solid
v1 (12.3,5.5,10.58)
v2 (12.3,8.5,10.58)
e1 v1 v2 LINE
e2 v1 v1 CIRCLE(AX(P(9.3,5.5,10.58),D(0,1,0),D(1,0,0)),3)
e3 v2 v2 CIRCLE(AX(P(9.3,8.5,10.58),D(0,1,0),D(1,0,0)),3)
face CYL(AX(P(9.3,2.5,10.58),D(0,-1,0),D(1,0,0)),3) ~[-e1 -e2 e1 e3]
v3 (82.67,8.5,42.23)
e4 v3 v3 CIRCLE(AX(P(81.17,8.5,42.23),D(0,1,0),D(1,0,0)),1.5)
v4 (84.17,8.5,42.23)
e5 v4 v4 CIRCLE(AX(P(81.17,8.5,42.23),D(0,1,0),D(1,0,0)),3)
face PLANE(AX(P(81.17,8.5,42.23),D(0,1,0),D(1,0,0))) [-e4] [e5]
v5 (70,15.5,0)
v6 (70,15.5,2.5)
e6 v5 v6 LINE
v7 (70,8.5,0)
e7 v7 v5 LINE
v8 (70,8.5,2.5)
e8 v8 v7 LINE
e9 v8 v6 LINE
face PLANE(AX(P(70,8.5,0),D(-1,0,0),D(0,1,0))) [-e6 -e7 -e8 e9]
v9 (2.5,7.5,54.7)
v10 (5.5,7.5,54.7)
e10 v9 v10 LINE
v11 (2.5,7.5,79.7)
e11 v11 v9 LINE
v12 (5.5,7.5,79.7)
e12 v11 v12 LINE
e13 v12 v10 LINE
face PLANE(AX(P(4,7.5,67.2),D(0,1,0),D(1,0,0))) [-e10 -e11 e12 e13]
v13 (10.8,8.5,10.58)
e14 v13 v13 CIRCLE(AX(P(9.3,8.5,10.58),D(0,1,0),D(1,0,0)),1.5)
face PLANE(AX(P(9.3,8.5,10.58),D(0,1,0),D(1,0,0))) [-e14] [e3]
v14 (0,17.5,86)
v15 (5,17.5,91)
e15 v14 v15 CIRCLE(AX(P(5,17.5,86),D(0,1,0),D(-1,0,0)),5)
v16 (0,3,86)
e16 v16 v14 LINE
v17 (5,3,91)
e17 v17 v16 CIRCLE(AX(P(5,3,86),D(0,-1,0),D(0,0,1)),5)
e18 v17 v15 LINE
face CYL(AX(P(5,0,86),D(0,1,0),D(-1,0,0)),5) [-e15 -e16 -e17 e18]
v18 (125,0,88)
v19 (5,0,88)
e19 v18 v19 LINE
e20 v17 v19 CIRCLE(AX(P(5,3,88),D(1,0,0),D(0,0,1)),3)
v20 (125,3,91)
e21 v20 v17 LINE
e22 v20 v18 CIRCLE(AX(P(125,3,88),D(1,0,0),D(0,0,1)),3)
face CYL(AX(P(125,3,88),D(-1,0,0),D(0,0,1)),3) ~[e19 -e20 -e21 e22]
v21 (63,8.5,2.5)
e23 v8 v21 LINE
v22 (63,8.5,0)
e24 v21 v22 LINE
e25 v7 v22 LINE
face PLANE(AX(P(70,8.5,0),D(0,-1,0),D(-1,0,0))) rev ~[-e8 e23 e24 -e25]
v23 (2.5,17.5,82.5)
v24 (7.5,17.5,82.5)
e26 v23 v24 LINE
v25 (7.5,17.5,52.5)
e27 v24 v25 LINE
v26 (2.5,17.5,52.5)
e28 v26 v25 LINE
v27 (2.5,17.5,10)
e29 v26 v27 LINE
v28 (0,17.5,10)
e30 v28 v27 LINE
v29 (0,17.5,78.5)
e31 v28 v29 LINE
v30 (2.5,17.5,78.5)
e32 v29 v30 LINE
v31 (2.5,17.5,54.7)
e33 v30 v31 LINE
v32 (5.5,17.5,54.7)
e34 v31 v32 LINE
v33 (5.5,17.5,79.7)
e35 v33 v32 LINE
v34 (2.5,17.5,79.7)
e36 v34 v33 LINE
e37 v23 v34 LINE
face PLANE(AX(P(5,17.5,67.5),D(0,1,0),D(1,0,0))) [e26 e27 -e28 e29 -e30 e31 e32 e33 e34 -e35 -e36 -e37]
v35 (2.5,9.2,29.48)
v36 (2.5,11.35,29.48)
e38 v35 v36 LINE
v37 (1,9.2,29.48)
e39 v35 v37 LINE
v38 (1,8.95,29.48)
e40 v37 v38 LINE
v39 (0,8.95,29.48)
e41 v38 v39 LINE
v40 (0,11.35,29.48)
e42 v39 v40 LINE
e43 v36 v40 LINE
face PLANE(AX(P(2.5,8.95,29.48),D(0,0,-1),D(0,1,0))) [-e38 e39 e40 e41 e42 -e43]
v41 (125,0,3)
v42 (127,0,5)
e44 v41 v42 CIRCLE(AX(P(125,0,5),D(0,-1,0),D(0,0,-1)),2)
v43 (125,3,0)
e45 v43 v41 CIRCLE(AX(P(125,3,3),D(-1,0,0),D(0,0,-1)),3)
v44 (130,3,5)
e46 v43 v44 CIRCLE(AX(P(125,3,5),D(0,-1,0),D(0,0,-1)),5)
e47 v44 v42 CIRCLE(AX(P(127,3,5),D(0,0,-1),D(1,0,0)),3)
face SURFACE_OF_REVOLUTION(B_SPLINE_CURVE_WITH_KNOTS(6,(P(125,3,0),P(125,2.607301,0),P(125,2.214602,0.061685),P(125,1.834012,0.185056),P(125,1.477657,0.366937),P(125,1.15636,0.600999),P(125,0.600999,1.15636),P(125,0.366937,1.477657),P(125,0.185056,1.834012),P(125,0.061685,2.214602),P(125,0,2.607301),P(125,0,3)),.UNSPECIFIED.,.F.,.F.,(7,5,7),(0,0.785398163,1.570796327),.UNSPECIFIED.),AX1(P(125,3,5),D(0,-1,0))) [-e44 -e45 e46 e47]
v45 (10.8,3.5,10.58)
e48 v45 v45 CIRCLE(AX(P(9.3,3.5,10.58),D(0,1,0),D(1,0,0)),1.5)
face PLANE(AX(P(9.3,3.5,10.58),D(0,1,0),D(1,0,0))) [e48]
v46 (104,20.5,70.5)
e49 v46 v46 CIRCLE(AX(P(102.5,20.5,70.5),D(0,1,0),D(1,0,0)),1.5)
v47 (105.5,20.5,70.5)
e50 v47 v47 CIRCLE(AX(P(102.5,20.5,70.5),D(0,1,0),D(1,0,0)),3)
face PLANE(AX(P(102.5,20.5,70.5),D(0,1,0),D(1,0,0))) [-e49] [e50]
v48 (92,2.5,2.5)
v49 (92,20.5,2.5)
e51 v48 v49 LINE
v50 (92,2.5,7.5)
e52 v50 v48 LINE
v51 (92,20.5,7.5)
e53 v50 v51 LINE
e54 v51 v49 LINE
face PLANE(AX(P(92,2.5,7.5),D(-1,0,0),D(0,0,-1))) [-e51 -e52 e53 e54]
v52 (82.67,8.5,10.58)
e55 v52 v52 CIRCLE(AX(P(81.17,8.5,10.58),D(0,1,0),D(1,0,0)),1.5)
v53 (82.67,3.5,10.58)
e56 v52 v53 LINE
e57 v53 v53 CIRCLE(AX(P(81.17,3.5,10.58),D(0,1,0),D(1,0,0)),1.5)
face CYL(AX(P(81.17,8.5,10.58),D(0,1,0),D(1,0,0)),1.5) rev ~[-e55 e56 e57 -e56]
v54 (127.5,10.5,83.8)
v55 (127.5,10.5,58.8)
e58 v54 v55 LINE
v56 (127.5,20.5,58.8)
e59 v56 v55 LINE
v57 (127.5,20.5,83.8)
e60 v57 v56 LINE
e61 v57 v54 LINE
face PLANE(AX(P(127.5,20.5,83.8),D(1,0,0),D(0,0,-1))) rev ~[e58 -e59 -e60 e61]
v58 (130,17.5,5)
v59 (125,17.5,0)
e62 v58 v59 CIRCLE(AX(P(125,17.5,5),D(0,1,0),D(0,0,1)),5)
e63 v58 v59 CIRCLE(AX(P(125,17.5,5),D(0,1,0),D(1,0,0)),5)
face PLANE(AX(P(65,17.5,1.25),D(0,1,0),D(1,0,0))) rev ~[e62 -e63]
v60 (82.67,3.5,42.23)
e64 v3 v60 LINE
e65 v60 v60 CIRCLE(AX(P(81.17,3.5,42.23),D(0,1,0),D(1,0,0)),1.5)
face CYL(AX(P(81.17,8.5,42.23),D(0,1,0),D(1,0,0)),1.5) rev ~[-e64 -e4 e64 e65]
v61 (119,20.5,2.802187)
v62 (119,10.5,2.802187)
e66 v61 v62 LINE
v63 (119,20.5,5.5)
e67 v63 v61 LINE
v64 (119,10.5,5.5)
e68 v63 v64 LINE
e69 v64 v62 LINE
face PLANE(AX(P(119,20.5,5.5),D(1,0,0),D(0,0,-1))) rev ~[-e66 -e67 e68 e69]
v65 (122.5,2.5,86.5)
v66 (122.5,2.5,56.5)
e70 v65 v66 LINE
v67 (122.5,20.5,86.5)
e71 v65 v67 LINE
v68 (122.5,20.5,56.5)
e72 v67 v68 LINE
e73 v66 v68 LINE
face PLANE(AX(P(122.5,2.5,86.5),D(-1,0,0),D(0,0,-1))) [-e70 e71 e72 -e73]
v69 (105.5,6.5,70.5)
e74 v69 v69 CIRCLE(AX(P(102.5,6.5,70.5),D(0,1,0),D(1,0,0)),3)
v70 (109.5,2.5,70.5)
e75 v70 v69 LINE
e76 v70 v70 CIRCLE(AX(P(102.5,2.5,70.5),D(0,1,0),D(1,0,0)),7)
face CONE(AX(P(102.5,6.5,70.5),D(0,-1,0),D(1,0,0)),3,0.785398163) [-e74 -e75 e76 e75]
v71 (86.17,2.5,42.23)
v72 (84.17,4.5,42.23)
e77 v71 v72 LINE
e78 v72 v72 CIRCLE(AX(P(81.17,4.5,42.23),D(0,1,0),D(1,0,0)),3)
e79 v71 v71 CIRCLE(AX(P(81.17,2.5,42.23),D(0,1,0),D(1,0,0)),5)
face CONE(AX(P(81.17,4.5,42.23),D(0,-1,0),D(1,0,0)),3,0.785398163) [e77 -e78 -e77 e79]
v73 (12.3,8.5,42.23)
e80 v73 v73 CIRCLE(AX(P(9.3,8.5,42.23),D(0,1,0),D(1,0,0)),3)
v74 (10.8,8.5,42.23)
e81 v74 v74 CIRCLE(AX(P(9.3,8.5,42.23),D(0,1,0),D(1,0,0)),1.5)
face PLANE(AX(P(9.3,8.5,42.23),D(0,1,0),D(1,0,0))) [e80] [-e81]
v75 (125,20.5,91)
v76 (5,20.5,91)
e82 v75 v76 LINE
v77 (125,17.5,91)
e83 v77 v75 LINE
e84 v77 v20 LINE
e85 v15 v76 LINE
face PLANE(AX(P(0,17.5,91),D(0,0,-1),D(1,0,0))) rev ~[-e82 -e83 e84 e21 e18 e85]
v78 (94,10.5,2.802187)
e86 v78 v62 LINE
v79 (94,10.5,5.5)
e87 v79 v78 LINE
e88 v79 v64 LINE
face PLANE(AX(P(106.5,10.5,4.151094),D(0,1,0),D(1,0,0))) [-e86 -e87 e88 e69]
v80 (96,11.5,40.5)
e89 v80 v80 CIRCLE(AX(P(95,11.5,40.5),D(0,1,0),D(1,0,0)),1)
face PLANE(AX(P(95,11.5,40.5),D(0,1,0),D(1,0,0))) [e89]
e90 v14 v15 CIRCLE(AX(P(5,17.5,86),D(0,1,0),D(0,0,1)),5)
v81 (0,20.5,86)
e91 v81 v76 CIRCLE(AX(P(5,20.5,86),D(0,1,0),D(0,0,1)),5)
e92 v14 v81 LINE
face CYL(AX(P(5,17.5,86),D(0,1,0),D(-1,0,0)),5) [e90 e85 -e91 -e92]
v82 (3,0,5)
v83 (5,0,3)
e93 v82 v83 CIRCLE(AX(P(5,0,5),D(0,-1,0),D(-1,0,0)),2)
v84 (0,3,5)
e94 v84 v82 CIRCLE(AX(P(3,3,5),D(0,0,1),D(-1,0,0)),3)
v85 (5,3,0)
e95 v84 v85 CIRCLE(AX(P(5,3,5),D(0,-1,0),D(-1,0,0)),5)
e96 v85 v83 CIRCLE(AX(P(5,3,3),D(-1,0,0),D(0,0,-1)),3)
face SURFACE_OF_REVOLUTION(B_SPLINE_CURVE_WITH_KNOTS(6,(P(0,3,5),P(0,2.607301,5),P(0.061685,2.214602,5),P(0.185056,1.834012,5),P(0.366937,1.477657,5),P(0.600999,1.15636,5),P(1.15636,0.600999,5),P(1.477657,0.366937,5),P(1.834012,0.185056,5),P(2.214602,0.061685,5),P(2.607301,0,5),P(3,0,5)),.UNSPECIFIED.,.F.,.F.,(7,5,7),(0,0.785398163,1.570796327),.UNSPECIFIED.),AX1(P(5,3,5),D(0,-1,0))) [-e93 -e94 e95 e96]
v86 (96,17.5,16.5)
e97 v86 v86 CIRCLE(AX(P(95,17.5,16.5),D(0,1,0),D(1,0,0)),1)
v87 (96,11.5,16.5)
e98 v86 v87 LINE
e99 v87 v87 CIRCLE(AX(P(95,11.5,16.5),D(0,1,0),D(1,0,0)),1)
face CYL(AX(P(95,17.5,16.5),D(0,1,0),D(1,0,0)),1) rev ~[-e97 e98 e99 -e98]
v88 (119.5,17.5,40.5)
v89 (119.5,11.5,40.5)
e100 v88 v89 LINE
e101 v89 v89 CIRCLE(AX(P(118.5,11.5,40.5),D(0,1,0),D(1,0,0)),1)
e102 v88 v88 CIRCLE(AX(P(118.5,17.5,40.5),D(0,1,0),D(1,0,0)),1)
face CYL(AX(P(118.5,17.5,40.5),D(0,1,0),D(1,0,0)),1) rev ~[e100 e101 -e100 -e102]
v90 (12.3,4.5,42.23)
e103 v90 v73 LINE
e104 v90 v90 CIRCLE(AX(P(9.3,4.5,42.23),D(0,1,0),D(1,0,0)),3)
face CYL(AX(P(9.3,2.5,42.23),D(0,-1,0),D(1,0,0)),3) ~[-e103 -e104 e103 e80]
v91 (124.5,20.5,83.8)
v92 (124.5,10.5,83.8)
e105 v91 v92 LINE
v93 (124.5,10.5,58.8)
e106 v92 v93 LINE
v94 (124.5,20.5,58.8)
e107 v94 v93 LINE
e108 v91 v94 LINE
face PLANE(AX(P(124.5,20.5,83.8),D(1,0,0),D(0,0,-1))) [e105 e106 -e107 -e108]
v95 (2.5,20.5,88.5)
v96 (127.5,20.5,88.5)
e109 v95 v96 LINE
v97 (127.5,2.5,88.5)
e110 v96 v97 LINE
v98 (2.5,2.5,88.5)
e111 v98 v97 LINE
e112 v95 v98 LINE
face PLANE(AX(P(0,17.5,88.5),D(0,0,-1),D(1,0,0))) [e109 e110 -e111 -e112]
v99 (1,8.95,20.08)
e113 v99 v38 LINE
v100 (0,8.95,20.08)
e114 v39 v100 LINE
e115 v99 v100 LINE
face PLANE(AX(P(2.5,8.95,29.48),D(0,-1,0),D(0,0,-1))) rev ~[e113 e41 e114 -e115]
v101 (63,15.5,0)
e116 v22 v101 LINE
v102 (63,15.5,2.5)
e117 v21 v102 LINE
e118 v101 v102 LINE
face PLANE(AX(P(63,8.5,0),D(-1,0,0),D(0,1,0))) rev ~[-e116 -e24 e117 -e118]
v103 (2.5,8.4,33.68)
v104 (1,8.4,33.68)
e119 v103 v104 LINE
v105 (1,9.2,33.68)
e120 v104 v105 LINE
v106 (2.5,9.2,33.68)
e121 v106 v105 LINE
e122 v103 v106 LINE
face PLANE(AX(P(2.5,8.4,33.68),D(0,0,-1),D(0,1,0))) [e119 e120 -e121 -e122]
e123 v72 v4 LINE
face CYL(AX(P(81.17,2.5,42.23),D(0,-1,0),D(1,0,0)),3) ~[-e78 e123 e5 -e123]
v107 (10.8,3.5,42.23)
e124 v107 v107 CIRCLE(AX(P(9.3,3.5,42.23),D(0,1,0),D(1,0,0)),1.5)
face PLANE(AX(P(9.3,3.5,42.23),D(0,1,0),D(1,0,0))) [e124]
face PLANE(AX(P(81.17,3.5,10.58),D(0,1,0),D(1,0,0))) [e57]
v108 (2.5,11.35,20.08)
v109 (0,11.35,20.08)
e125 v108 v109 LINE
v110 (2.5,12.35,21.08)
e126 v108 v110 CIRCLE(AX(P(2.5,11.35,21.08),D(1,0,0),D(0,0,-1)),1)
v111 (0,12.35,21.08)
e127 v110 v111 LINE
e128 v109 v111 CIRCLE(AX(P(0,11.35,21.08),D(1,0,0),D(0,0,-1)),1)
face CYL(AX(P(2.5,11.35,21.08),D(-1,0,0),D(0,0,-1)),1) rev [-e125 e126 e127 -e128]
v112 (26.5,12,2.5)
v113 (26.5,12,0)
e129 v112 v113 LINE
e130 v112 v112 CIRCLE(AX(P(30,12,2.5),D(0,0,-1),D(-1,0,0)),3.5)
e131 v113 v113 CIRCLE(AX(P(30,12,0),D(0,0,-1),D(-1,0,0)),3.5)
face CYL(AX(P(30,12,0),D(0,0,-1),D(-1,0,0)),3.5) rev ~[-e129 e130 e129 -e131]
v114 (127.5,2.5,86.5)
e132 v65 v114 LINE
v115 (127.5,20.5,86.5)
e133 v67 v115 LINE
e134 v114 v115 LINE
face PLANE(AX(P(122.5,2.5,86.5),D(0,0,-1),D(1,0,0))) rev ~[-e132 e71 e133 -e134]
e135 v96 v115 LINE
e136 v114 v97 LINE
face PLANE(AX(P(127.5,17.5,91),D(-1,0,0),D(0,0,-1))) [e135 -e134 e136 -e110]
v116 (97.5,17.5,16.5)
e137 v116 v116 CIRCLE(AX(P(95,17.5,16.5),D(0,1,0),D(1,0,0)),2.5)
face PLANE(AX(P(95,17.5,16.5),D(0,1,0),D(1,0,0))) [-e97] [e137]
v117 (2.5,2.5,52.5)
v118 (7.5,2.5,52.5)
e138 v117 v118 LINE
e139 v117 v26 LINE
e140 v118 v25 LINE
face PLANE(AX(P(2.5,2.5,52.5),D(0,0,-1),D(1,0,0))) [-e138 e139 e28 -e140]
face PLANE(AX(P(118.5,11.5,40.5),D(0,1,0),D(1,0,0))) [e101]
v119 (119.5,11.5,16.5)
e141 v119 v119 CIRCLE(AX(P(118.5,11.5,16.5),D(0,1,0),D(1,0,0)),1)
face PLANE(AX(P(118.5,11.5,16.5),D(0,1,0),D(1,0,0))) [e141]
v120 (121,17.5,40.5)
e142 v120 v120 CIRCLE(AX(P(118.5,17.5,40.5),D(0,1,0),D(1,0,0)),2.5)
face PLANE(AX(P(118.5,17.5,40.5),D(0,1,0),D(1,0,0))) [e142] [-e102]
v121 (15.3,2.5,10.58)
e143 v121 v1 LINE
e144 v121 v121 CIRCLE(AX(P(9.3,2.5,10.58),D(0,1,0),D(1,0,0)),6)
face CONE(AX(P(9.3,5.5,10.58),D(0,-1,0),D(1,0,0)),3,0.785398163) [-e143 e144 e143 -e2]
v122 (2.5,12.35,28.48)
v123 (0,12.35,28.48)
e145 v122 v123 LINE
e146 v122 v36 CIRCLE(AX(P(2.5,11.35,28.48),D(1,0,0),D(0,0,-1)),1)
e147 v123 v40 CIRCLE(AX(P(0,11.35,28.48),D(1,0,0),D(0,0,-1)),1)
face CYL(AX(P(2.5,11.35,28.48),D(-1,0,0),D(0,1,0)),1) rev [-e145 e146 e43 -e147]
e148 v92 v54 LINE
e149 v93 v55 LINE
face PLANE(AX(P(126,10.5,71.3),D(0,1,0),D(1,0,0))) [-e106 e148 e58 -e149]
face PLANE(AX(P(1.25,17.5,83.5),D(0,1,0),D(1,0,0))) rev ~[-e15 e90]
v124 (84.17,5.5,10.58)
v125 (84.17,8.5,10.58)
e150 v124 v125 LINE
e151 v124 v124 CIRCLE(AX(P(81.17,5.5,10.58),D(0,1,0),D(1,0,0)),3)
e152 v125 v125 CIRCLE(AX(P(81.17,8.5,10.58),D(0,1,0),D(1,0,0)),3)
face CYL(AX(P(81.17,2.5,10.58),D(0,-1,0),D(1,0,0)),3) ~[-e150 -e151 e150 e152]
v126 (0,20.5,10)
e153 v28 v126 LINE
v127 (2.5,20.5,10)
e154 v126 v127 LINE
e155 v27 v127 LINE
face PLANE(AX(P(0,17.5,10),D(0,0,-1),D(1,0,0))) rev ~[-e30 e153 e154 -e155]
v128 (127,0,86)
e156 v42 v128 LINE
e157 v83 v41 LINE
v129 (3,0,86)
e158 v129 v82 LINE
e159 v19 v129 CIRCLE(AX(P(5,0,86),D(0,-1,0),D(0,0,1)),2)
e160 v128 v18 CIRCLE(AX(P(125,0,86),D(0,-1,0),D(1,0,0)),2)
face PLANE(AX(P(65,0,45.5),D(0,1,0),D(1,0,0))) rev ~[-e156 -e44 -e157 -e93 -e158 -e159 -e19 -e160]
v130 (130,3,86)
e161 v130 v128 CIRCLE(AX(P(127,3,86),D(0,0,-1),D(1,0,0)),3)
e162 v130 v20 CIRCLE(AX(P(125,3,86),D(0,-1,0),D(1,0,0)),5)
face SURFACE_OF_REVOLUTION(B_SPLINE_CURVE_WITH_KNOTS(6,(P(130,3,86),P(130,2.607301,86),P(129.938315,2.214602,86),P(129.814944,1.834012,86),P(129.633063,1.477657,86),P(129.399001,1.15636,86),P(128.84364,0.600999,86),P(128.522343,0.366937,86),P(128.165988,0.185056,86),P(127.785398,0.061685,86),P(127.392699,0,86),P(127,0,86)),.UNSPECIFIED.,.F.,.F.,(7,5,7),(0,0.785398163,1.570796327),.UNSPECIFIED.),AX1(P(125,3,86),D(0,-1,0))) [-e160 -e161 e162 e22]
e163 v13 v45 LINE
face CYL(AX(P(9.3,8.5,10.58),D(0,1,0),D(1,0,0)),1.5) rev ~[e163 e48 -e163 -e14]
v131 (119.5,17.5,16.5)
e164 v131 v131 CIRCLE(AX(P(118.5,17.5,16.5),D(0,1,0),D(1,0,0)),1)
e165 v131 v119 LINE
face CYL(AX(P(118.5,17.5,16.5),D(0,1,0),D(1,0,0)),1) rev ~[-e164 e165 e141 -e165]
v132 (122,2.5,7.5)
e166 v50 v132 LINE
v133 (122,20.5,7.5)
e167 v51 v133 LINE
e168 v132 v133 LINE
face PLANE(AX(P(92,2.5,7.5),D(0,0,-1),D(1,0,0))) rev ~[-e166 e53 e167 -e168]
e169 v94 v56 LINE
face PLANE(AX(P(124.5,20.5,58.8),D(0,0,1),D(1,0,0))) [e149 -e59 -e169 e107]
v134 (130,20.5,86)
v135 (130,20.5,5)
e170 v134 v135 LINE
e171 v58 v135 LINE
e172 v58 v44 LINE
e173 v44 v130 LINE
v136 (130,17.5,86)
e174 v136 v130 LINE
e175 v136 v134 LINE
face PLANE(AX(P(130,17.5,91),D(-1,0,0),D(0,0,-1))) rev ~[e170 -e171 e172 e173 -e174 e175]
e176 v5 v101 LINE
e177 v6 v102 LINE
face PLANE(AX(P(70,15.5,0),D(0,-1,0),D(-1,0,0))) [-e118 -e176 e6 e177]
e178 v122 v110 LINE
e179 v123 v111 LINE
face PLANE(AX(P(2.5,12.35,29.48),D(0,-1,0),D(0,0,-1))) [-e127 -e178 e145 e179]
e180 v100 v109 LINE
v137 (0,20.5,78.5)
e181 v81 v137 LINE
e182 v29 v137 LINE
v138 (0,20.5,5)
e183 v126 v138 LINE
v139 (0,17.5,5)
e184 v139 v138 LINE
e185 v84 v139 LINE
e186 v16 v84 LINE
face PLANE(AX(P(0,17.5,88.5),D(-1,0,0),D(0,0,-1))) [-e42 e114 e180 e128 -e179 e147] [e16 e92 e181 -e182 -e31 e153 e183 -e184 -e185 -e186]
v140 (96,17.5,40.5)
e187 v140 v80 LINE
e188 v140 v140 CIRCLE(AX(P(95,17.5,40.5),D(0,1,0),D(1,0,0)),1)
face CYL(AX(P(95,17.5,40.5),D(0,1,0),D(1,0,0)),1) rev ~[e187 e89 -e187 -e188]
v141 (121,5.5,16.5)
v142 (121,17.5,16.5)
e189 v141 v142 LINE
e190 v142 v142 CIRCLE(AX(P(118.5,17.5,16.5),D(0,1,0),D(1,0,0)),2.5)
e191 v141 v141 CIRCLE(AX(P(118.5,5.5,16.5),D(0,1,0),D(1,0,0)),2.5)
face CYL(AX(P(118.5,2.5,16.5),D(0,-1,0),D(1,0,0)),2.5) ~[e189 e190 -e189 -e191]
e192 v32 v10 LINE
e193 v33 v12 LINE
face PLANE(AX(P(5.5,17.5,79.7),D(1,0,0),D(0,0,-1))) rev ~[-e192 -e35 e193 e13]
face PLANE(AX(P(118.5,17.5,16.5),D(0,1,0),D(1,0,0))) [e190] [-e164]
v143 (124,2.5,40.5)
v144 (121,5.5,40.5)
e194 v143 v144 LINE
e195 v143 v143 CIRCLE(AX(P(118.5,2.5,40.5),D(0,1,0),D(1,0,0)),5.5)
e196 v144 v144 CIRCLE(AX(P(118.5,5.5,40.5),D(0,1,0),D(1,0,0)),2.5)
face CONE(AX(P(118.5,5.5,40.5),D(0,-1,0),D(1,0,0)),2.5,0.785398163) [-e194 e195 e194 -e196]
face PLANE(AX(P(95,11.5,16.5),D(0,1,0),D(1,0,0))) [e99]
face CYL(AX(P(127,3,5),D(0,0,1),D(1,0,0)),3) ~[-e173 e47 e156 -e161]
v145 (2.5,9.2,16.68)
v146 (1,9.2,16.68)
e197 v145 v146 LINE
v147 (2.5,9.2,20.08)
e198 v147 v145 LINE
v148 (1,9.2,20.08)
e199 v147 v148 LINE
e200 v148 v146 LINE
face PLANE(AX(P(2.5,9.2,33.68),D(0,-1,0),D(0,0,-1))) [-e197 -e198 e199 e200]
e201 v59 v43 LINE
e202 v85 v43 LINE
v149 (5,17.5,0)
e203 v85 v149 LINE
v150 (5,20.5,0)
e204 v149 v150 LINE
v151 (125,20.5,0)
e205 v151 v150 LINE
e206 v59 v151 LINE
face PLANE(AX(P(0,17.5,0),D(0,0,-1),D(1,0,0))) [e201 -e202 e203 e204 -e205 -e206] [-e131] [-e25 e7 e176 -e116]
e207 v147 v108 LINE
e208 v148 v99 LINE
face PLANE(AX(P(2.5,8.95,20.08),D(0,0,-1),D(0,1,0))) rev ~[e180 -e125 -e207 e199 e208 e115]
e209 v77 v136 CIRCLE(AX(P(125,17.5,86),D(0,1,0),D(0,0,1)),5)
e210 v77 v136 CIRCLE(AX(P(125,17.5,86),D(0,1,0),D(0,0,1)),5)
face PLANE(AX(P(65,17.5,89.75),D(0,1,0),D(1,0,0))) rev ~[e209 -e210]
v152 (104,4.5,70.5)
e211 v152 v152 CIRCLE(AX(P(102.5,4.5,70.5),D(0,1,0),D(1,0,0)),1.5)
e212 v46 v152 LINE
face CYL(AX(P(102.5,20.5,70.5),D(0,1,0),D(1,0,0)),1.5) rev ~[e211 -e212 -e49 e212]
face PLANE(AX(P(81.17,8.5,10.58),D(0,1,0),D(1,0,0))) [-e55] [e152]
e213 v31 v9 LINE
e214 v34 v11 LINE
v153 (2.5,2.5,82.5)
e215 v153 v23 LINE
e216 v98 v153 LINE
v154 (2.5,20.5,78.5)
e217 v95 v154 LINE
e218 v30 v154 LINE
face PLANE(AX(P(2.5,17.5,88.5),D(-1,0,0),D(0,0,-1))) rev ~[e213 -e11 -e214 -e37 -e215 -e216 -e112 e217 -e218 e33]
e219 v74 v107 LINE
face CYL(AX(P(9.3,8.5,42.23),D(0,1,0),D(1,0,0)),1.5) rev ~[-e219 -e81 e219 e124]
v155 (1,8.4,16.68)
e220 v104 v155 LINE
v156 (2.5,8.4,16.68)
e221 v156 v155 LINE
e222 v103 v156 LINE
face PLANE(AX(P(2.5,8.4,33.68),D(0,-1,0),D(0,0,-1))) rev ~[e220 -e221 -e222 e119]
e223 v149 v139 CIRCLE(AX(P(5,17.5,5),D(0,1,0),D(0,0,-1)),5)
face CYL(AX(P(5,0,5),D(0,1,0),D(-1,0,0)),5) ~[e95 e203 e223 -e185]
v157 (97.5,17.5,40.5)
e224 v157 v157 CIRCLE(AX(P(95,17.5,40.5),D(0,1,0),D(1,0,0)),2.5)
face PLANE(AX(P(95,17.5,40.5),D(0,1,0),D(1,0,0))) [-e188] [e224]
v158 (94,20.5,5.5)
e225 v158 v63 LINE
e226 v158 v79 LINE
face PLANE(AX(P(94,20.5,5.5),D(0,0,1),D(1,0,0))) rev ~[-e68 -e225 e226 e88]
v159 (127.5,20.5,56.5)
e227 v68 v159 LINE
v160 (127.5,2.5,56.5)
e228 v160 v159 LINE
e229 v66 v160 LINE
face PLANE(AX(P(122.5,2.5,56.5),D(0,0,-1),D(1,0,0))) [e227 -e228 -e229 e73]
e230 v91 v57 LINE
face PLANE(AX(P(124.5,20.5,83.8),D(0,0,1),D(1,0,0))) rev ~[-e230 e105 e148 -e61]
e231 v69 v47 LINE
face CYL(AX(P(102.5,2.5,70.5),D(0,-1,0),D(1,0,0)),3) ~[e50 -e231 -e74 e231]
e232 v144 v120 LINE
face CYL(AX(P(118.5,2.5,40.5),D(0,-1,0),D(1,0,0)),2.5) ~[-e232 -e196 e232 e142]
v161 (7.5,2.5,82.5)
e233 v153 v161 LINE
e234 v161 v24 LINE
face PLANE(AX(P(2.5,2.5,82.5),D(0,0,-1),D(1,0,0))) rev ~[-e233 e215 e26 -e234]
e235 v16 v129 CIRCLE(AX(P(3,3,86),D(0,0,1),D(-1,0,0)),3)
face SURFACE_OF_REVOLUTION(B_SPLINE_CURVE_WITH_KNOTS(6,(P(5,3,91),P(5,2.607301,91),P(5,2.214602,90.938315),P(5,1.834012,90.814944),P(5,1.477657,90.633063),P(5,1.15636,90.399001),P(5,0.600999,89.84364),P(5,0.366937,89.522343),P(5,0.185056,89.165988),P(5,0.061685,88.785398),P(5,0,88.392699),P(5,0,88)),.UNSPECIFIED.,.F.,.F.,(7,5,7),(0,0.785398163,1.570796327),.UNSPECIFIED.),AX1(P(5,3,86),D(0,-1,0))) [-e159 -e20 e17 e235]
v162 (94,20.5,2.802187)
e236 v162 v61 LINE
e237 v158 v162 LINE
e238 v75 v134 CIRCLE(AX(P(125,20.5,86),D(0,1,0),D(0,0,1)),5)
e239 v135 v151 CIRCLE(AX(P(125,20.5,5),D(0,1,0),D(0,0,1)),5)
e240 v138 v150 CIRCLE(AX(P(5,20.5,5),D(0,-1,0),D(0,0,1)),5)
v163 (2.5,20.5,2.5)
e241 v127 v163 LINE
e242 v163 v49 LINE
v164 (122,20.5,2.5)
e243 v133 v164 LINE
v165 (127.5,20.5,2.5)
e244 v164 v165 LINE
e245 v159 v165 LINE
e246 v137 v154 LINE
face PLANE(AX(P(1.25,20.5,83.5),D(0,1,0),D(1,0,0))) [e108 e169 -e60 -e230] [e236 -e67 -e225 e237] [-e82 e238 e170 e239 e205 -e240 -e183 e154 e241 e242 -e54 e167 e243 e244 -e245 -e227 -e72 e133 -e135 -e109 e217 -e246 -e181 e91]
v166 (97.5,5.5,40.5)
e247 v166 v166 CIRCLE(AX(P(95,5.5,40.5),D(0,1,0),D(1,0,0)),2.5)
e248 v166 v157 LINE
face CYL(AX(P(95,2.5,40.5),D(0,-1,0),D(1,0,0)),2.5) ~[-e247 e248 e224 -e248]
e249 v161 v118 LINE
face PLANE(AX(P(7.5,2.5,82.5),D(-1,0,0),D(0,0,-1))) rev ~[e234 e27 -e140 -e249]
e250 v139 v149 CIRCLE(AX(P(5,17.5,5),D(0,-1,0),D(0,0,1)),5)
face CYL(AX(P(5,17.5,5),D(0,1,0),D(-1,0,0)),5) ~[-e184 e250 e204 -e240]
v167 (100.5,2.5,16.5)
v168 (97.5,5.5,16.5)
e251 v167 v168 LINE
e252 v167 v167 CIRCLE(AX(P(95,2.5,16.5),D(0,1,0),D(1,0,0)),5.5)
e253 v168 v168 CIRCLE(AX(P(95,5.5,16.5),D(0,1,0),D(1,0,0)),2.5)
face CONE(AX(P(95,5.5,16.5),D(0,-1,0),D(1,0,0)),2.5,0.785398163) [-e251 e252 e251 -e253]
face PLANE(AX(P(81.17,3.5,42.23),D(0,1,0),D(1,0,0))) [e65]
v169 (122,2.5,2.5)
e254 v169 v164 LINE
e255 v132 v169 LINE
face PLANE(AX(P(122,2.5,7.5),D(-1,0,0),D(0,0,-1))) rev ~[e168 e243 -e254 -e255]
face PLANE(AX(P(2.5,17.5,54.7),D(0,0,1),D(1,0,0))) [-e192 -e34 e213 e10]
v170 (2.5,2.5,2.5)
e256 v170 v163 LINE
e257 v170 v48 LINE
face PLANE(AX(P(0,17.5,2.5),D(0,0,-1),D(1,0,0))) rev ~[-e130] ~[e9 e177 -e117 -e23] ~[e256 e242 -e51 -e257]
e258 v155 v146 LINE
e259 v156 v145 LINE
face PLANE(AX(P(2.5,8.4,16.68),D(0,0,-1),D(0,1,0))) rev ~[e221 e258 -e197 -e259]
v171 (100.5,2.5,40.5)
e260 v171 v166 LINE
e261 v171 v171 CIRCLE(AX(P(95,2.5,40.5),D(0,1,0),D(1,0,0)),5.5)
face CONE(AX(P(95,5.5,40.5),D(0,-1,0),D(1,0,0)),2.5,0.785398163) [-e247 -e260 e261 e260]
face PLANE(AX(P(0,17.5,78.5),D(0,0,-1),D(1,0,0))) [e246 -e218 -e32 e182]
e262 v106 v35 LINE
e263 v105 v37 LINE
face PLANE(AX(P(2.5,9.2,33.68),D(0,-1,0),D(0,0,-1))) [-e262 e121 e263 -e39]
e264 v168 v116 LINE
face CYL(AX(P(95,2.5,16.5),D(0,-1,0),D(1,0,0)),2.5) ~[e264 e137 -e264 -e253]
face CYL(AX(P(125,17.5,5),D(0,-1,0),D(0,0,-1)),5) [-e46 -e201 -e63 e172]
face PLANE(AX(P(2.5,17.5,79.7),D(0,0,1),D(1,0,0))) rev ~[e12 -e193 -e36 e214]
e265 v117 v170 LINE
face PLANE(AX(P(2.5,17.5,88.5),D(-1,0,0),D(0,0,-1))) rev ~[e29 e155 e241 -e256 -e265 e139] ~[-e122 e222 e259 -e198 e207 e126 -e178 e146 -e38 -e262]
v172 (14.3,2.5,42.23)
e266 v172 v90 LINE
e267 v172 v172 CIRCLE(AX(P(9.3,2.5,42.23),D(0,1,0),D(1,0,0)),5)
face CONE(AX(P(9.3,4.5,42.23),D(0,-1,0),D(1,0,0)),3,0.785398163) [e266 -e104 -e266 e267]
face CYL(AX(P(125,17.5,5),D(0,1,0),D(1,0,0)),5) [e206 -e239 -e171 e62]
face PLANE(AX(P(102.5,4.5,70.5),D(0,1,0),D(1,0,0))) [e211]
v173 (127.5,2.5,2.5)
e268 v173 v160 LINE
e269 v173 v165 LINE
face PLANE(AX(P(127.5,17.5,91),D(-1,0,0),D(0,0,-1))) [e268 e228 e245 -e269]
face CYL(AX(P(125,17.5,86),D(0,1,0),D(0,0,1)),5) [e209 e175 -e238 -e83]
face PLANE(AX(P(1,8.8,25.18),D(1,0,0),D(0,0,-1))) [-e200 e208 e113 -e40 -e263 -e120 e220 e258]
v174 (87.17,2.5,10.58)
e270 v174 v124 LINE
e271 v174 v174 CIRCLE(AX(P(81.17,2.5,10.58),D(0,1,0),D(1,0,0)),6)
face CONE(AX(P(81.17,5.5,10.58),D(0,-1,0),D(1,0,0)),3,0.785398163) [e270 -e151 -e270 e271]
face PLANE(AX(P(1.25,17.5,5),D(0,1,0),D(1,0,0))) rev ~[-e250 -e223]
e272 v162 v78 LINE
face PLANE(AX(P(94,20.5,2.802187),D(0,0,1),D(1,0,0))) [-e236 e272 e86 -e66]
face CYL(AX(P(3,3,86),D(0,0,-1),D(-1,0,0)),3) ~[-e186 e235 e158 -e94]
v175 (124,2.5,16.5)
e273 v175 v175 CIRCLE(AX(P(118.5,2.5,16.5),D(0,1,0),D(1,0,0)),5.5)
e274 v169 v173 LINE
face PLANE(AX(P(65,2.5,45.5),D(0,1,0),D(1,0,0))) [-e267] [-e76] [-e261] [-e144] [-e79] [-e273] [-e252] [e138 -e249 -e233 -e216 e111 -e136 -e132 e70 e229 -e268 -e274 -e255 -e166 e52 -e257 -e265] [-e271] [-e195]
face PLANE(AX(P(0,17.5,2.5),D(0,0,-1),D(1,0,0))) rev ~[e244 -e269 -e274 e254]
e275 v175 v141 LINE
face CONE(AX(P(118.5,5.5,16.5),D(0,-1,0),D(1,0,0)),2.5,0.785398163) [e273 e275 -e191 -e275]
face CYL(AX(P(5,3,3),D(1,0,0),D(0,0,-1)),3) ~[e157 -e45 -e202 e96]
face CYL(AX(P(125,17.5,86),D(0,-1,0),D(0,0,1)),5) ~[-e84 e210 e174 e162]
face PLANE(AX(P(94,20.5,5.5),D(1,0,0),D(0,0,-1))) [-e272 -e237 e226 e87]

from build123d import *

# Parameters (mm, degrees)
SKETCH2_W            = 130
SKETCH2_H            = 91
BOSS_EXTRUDE1_DEPTH  = 2.5
SKETCH3_W            = 125
SKETCH3_H            = 2.5
BOSS_EXTRUDE2_DEPTH  = 15
SKETCH14_W           = 9.4
SKETCH14_H           = 3.4
CUT_EXTRUDE1_DEPTH   = 10
FILLET3_R            = 1
FILLET4_R            = 1
SKETCH17_W           = 17
SKETCH17_H           = 0.8
CUT_EXTRUDE3_DEPTH   = 1.5
SKETCH19_R           = 3
BOSS_EXTRUDE3_DEPTH  = 6
SKETCH20_R           = 1.5
CUT_EXTRUDE4_DEPTH   = 5
SKETCH21_R           = 3
BOSS_EXTRUDE4_DEPTH  = 6
SKETCH22_R           = 1.5
CUT_EXTRUDE5_DEPTH   = 5
SKETCH23_R           = 3
BOSS_EXTRUDE5_DEPTH  = 6
SKETCH24_R           = 1.5
CUT_EXTRUDE6_DEPTH   = 5
SKETCH25_R           = 3
BOSS_EXTRUDE6_DEPTH  = 6
SKETCH26_R           = 1.5
CUT_EXTRUDE7_DEPTH   = 5
FILLET5_R            = 5
SKETCH28_R           = 2.5
BOSS_EXTRUDE7_DEPTH  = 15
SKETCH29_R           = 2.5
BOSS_EXTRUDE8_DEPTH  = 15
SKETCH30_R           = 1
CUT_EXTRUDE8_DEPTH   = 6
SKETCH31_R           = 1
CUT_EXTRUDE9_DEPTH   = 6
SKETCH33_R           = 2.5
BOSS_EXTRUDE9_DEPTH  = 15
SKETCH34_R           = 2.5
BOSS_EXTRUDE10_DEPTH = 15
SKETCH35_R           = 1
CUT_EXTRUDE10_DEPTH  = 6
SKETCH36_R           = 1
CUT_EXTRUDE11_DEPTH  = 6
SKETCH39_W           = 130
SKETCH39_H           = 2.5
BOSS_EXTRUDE11_DEPTH = 3
SKETCH40_W           = 2.5
SKETCH40_H           = 91
BOSS_EXTRUDE12_DEPTH = 3
FILLET10_R           = 5
SKETCH41_W           = 130
SKETCH41_H           = 2.5
BOSS_EXTRUDE13_DEPTH = 3
FILLET11_R           = 5
SKETCH43_W           = 2.5
SKETCH43_H           = 10
BOSS_EXTRUDE14_DEPTH = 3
FILLET12_R           = 5
SKETCH45_W           = 2.5
SKETCH45_H           = 10
BOSS_EXTRUDE15_DEPTH = 3
FILLET13_R           = 5
SKETCH46_W           = 30
SKETCH46_H           = 5
BOSS_EXTRUDE16_DEPTH = 18
SKETCH47_W           = 5
SKETCH47_H           = 30
BOSS_EXTRUDE17_DEPTH = 18
SKETCH48_W           = 5
SKETCH48_H           = 30
BOSS_EXTRUDE18_DEPTH = 15
SKETCH49_W           = 25
SKETCH49_H           = 2.697812924
CUT_EXTRUDE12_DEPTH  = 10
SKETCH50_W           = 3
SKETCH50_H           = 25
CUT_EXTRUDE13_DEPTH  = 10
SKETCH51_W           = 3
SKETCH51_H           = 25
CUT_EXTRUDE14_DEPTH  = 10
SKETCH52_R           = 3
BOSS_EXTRUDE19_DEPTH = 18
SKETCH53_R           = 1.5
CUT_EXTRUDE15_DEPTH  = 16
FILLET14_R           = 3
CHAMFER2_SIZE        = 3
CHAMFER3_SIZE        = 2
CHAMFER4_SIZE        = 3
CHAMFER5_SIZE        = 3
CHAMFER6_SIZE        = 4
CHAMFER7_SIZE        = 2
SKETCH54_W           = 7
SKETCH54_H           = 7
CUT_EXTRUDE16_DEPTH  = 5
SKETCH55_R           = 3.5
CUT_EXTRUDE17_DEPTH  = 5


with BuildPart() as part:
    # Sketch2 → Boss-Extrude1 (new body)
    with BuildSketch(Plane(origin=(0, 0, 0), x_dir=(1, 0, 0), z_dir=(0, 1, 0))):
        with Locations((65, -45.5)):
            Rectangle(SKETCH2_W, SKETCH2_H)
    extrude(amount=BOSS_EXTRUDE1_DEPTH)

    # Sketch3 → Boss-Extrude2 (add)
    with BuildSketch(Plane(origin=(0, 2.5, 0), x_dir=(1, 0, 0), z_dir=(0, 1, 0))):
        Polygon((130, 0), (127.5, 0), (127.5, -2.5), (127.5, -88.5), (127.5, -91), (130, -91), align=None)
        with Locations((65, -1.25)):
            Rectangle(SKETCH3_W, SKETCH3_H)
        with Locations((65, -89.75)):
            Rectangle(SKETCH3_W, SKETCH3_H)
        Polygon((2.5, 0), (0, 0), (0, -91), (2.5, -91), (2.5, -88.5), (2.5, -2.5), align=None)
    extrude(amount=BOSS_EXTRUDE2_DEPTH)

    # Sketch14 → Cut-Extrude1 (cut)
    with BuildSketch(Plane(origin=(2.5, 0, 0), x_dir=(0, 0, -1), z_dir=(1, 0, 0))):
        with Locations((-24.78, 10.65)):
            Rectangle(SKETCH14_W, SKETCH14_H)
    extrude(amount=-CUT_EXTRUDE1_DEPTH, mode=Mode.SUBTRACT)

    # Fillet3
    fillet3_edges = [part.edges().sort_by_distance(p)[0] for p in [
        (1.25, 12.35, 20.08),
    ]]
    fillet(fillet3_edges, radius=FILLET3_R)

    # Fillet4
    fillet4_edges = [part.edges().sort_by_distance(p)[0] for p in [
        (1.25, 12.35, 29.48),
    ]]
    fillet(fillet4_edges, radius=FILLET4_R)

    # Sketch17 → Cut-Extrude3 (cut)
    with BuildSketch(Plane(origin=(2.5, 0, 0), x_dir=(0, 0, -1), z_dir=(1, 0, 0))):
        with Locations((-25.18, 8.8)):
            Rectangle(SKETCH17_W, SKETCH17_H)
    extrude(amount=-CUT_EXTRUDE3_DEPTH, mode=Mode.SUBTRACT)

    # Sketch19 → Boss-Extrude3 (add)
    with BuildSketch(Plane(origin=(0, 2.5, 0), x_dir=(1, 0, 0), z_dir=(0, 1, 0))):
        with Locations((9.3, -10.58)):
            Circle(SKETCH19_R)
    extrude(amount=BOSS_EXTRUDE3_DEPTH)

    # Sketch20 → Cut-Extrude4 (cut)
    with BuildSketch(Plane(origin=(0, 8.5, 0), x_dir=(1, 0, 0), z_dir=(0, 1, 0))):
        with Locations((9.3, -10.58)):
            Circle(SKETCH20_R)
    extrude(amount=-CUT_EXTRUDE4_DEPTH, mode=Mode.SUBTRACT)

    # Sketch21 → Boss-Extrude4 (add)
    with BuildSketch(Plane(origin=(0, 2.5, 0), x_dir=(1, 0, 0), z_dir=(0, 1, 0))):
        with Locations((9.3, -42.23)):
            Circle(SKETCH21_R)
    extrude(amount=BOSS_EXTRUDE4_DEPTH)

    # Sketch22 → Cut-Extrude5 (cut)
    with BuildSketch(Plane(origin=(0, 8.5, 0), x_dir=(1, 0, 0), z_dir=(0, 1, 0))):
        with Locations((9.3, -42.23)):
            Circle(SKETCH22_R)
    extrude(amount=-CUT_EXTRUDE5_DEPTH, mode=Mode.SUBTRACT)

    # Sketch23 → Boss-Extrude5 (add)
    with BuildSketch(Plane(origin=(0, 2.5, 0), x_dir=(1, 0, 0), z_dir=(0, 1, 0))):
        with Locations((81.17, -10.58)):
            Circle(SKETCH23_R)
    extrude(amount=BOSS_EXTRUDE5_DEPTH)

    # Sketch24 → Cut-Extrude6 (cut)
    with BuildSketch(Plane(origin=(0, 8.5, 0), x_dir=(1, 0, 0), z_dir=(0, 1, 0))):
        with Locations((81.17, -10.58)):
            Circle(SKETCH24_R)
    extrude(amount=-CUT_EXTRUDE6_DEPTH, mode=Mode.SUBTRACT)

    # Sketch25 → Boss-Extrude6 (add)
    with BuildSketch(Plane(origin=(0, 2.5, 0), x_dir=(1, 0, 0), z_dir=(0, 1, 0))):
        with Locations((81.17, -42.23)):
            Circle(SKETCH25_R)
    extrude(amount=BOSS_EXTRUDE6_DEPTH)

    # Sketch26 → Cut-Extrude7 (cut)
    with BuildSketch(Plane(origin=(0, 8.5, 0), x_dir=(1, 0, 0), z_dir=(0, 1, 0))):
        with Locations((81.17, -42.23)):
            Circle(SKETCH26_R)
    extrude(amount=-CUT_EXTRUDE7_DEPTH, mode=Mode.SUBTRACT)

    # Fillet5
    fillet5_edges = [part.edges().sort_by_distance(p)[0] for p in [
        (0, 8.75, 0),
        (130, 8.75, 0),
        (130, 8.75, 91),
        (0, 8.75, 91),
    ]]
    fillet(fillet5_edges, radius=FILLET5_R)

    # Sketch28 → Boss-Extrude7 (add)
    with BuildSketch(Plane(origin=(0, 2.5, 0), x_dir=(1, 0, 0), z_dir=(0, 1, 0))):
        with Locations((118.5, -16.5)):
            Circle(SKETCH28_R)
    extrude(amount=BOSS_EXTRUDE7_DEPTH)

    # Sketch29 → Boss-Extrude8 (add)
    with BuildSketch(Plane(origin=(0, 2.5, 0), x_dir=(1, 0, 0), z_dir=(0, 1, 0))):
        with Locations((118.5, -40.5)):
            Circle(SKETCH29_R)
    extrude(amount=BOSS_EXTRUDE8_DEPTH)

    # Sketch30 → Cut-Extrude8 (cut)
    with BuildSketch(Plane(origin=(0, 17.5, 0), x_dir=(1, 0, 0), z_dir=(0, 1, 0))):
        with Locations((118.5, -16.5)):
            Circle(SKETCH30_R)
    extrude(amount=-CUT_EXTRUDE8_DEPTH, mode=Mode.SUBTRACT)

    # Sketch31 → Cut-Extrude9 (cut)
    with BuildSketch(Plane(origin=(0, 17.5, 0), x_dir=(1, 0, 0), z_dir=(0, 1, 0))):
        with Locations((118.5, -40.5)):
            Circle(SKETCH31_R)
    extrude(amount=-CUT_EXTRUDE9_DEPTH, mode=Mode.SUBTRACT)

    # Sketch33 → Boss-Extrude9 (add)
    with BuildSketch(Plane(origin=(0, 2.5, 0), x_dir=(1, 0, 0), z_dir=(0, 1, 0))):
        with Locations((95, -16.5)):
            Circle(SKETCH33_R)
    extrude(amount=BOSS_EXTRUDE9_DEPTH)

    # Sketch34 → Boss-Extrude10 (add)
    with BuildSketch(Plane(origin=(0, 2.5, 0), x_dir=(1, 0, 0), z_dir=(0, 1, 0))):
        with Locations((95, -40.5)):
            Circle(SKETCH34_R)
    extrude(amount=BOSS_EXTRUDE10_DEPTH)

    # Sketch35 → Cut-Extrude10 (cut)
    with BuildSketch(Plane(origin=(0, 17.5, 0), x_dir=(1, 0, 0), z_dir=(0, 1, 0))):
        with Locations((95, -16.5)):
            Circle(SKETCH35_R)
    extrude(amount=-CUT_EXTRUDE10_DEPTH, mode=Mode.SUBTRACT)

    # Sketch36 → Cut-Extrude11 (cut)
    with BuildSketch(Plane(origin=(0, 17.5, 0), x_dir=(1, 0, 0), z_dir=(0, 1, 0))):
        with Locations((95, -40.5)):
            Circle(SKETCH36_R)
    extrude(amount=-CUT_EXTRUDE11_DEPTH, mode=Mode.SUBTRACT)

    # Sketch39 → Boss-Extrude11 (add)
    with BuildSketch(Plane(origin=(0, 17.5, 0), x_dir=(1, 0, 0), z_dir=(0, 1, 0))):
        with Locations((65, -89.75)):
            Rectangle(SKETCH39_W, SKETCH39_H)
    extrude(amount=BOSS_EXTRUDE11_DEPTH)

    # Sketch40 → Boss-Extrude12 (add)
    with BuildSketch(Plane(origin=(0, 17.5, 0), x_dir=(1, 0, 0), z_dir=(0, 1, 0))):
        with Locations((128.75, -45.5)):
            Rectangle(SKETCH40_W, SKETCH40_H)
    extrude(amount=BOSS_EXTRUDE12_DEPTH)

    # Fillet10
    fillet10_edges = [part.edges().sort_by_distance(p)[0] for p in [
        (130, 19, 91),
    ]]
    fillet(fillet10_edges, radius=FILLET10_R)

    # Sketch41 → Boss-Extrude13 (add)
    with BuildSketch(Plane(origin=(0, 17.5, 0), x_dir=(1, 0, 0), z_dir=(0, 1, 0))):
        with Locations((65, -1.25)):
            Rectangle(SKETCH41_W, SKETCH41_H)
    extrude(amount=BOSS_EXTRUDE13_DEPTH)

    # Fillet11
    fillet11_edges = [part.edges().sort_by_distance(p)[0] for p in [
        (130, 19, 0),
    ]]
    fillet(fillet11_edges, radius=FILLET11_R)

    # Sketch43 → Boss-Extrude14 (add)
    with BuildSketch(Plane(origin=(0, 17.5, 0), x_dir=(1, 0, 0), z_dir=(0, 1, 0))):
        with Locations((1.25, -5)):
            Rectangle(SKETCH43_W, SKETCH43_H)
    extrude(amount=BOSS_EXTRUDE14_DEPTH)

    # Fillet12
    fillet12_edges = [part.edges().sort_by_distance(p)[0] for p in [
        (0, 19, 0),
    ]]
    fillet(fillet12_edges, radius=FILLET12_R)

    # Sketch45 → Boss-Extrude15 (add)
    with BuildSketch(Plane(origin=(0, 17.5, 0), x_dir=(1, 0, 0), z_dir=(0, 1, 0))):
        with Locations((1.25, -83.5)):
            Rectangle(SKETCH45_W, SKETCH45_H)
    extrude(amount=BOSS_EXTRUDE15_DEPTH)

    # Fillet13
    fillet13_edges = [part.edges().sort_by_distance(p)[0] for p in [
        (0, 19, 91),
    ]]
    fillet(fillet13_edges, radius=FILLET13_R)

    # Sketch46 → Boss-Extrude16 (add)
    with BuildSketch(Plane(origin=(0, 2.5, 0), x_dir=(1, 0, 0), z_dir=(0, 1, 0))):
        with Locations((107, -5)):
            Rectangle(SKETCH46_W, SKETCH46_H)
    extrude(amount=BOSS_EXTRUDE16_DEPTH)

    # Sketch47 → Boss-Extrude17 (add)
    with BuildSketch(Plane(origin=(0, 2.5, 0), x_dir=(1, 0, 0), z_dir=(0, 1, 0))):
        with Locations((125, -71.5)):
            Rectangle(SKETCH47_W, SKETCH47_H)
    extrude(amount=BOSS_EXTRUDE17_DEPTH)

    # Sketch48 → Boss-Extrude18 (add)
    with BuildSketch(Plane(origin=(0, 2.5, 0), x_dir=(1, 0, 0), z_dir=(0, 1, 0))):
        with Locations((5, -67.5)):
            Rectangle(SKETCH48_W, SKETCH48_H)
    extrude(amount=BOSS_EXTRUDE18_DEPTH)

    # Sketch49 → Cut-Extrude12 (cut)
    with BuildSketch(Plane(origin=(0, 20.5, 0), x_dir=(1, 0, 0), z_dir=(0, 1, 0))):
        with Locations((106.5, -4.151093538)):
            Rectangle(SKETCH49_W, SKETCH49_H)
    extrude(amount=-CUT_EXTRUDE12_DEPTH, mode=Mode.SUBTRACT)

    # Sketch50 → Cut-Extrude13 (cut)
    with BuildSketch(Plane(origin=(0, 17.5, 0), x_dir=(1, 0, 0), z_dir=(0, 1, 0))):
        with Locations((4, -67.2)):
            Rectangle(SKETCH50_W, SKETCH50_H)
    extrude(amount=-CUT_EXTRUDE13_DEPTH, mode=Mode.SUBTRACT)

    # Sketch51 → Cut-Extrude14 (cut)
    with BuildSketch(Plane(origin=(0, 20.5, 0), x_dir=(1, 0, 0), z_dir=(0, 1, 0))):
        with Locations((126, -71.3)):
            Rectangle(SKETCH51_W, SKETCH51_H)
    extrude(amount=-CUT_EXTRUDE14_DEPTH, mode=Mode.SUBTRACT)

    # Sketch52 → Boss-Extrude19 (add)
    with BuildSketch(Plane(origin=(0, 2.5, 0), x_dir=(1, 0, 0), z_dir=(0, 1, 0))):
        with Locations((102.5, -70.5)):
            Circle(SKETCH52_R)
    extrude(amount=BOSS_EXTRUDE19_DEPTH)

    # Sketch53 → Cut-Extrude15 (cut)
    with BuildSketch(Plane(origin=(0, 20.5, 0), x_dir=(1, 0, 0), z_dir=(0, 1, 0))):
        with Locations((102.5, -70.5)):
            Circle(SKETCH53_R)
    extrude(amount=-CUT_EXTRUDE15_DEPTH, mode=Mode.SUBTRACT)

    # Fillet14
    fillet14_edges = [part.edges().sort_by_distance(p)[0] for p in [
        (0, 0, 45.5),
        (65, 0, 0),
        (130, 0, 45.5),
        (65, 0, 91),
        (1.464466094, 0, 89.535533906),
        (128.535533906, 0, 89.535533906),
        (128.535533906, 0, 1.464466094),
        (1.464466094, 0, 1.464466094),
    ]]
    fillet(fillet14_edges, radius=FILLET14_R)

    # Chamfer2
    chamfer2_edges = [part.edges().sort_by_distance(p)[0] for p in [
        (6.3, 2.5, 10.58),
    ]]
    chamfer(chamfer2_edges, length=CHAMFER2_SIZE)

    # Chamfer3
    chamfer3_edges = [part.edges().sort_by_distance(p)[0] for p in [
        (6.3, 2.5, 42.23),
    ]]
    chamfer(chamfer3_edges, length=CHAMFER3_SIZE)

    # Chamfer4
    chamfer4_edges = [part.edges().sort_by_distance(p)[0] for p in [
        (78.17, 2.5, 10.58),
    ]]
    chamfer(chamfer4_edges, length=CHAMFER4_SIZE)

    # Chamfer5
    chamfer5_edges = [part.edges().sort_by_distance(p)[0] for p in [
        (116, 2.5, 16.5),
        (116, 2.5, 40.5),
        (92.5, 2.5, 16.5),
        (92.5, 2.5, 40.5),
    ]]
    chamfer(chamfer5_edges, length=CHAMFER5_SIZE)

    # Chamfer6
    chamfer6_edges = [part.edges().sort_by_distance(p)[0] for p in [
        (99.5, 2.5, 70.5),
    ]]
    chamfer(chamfer6_edges, length=CHAMFER6_SIZE)

    # Chamfer7
    chamfer7_edges = [part.edges().sort_by_distance(p)[0] for p in [
        (78.17, 2.5, 42.23),
    ]]
    chamfer(chamfer7_edges, length=CHAMFER7_SIZE)

    # Sketch54 → Cut-Extrude16 (cut, symmetric)
    with BuildSketch(Plane(origin=(0, 0, 0), x_dir=(-1, 0, 0), z_dir=(0, 0, -1))):
        with Locations((-66.5, 12)):
            Rectangle(SKETCH54_W, SKETCH54_H)
    extrude(amount=CUT_EXTRUDE16_DEPTH, both=True, mode=Mode.SUBTRACT)

    # Sketch55 → Cut-Extrude17 (cut, symmetric)
    with BuildSketch(Plane(origin=(0, 0, 0), x_dir=(-1, 0, 0), z_dir=(0, 0, -1))):
        with Locations((-30, 12)):
            Circle(SKETCH55_R)
    extrude(amount=CUT_EXTRUDE17_DEPTH, both=True, mode=Mode.SUBTRACT)


solid = part.part
